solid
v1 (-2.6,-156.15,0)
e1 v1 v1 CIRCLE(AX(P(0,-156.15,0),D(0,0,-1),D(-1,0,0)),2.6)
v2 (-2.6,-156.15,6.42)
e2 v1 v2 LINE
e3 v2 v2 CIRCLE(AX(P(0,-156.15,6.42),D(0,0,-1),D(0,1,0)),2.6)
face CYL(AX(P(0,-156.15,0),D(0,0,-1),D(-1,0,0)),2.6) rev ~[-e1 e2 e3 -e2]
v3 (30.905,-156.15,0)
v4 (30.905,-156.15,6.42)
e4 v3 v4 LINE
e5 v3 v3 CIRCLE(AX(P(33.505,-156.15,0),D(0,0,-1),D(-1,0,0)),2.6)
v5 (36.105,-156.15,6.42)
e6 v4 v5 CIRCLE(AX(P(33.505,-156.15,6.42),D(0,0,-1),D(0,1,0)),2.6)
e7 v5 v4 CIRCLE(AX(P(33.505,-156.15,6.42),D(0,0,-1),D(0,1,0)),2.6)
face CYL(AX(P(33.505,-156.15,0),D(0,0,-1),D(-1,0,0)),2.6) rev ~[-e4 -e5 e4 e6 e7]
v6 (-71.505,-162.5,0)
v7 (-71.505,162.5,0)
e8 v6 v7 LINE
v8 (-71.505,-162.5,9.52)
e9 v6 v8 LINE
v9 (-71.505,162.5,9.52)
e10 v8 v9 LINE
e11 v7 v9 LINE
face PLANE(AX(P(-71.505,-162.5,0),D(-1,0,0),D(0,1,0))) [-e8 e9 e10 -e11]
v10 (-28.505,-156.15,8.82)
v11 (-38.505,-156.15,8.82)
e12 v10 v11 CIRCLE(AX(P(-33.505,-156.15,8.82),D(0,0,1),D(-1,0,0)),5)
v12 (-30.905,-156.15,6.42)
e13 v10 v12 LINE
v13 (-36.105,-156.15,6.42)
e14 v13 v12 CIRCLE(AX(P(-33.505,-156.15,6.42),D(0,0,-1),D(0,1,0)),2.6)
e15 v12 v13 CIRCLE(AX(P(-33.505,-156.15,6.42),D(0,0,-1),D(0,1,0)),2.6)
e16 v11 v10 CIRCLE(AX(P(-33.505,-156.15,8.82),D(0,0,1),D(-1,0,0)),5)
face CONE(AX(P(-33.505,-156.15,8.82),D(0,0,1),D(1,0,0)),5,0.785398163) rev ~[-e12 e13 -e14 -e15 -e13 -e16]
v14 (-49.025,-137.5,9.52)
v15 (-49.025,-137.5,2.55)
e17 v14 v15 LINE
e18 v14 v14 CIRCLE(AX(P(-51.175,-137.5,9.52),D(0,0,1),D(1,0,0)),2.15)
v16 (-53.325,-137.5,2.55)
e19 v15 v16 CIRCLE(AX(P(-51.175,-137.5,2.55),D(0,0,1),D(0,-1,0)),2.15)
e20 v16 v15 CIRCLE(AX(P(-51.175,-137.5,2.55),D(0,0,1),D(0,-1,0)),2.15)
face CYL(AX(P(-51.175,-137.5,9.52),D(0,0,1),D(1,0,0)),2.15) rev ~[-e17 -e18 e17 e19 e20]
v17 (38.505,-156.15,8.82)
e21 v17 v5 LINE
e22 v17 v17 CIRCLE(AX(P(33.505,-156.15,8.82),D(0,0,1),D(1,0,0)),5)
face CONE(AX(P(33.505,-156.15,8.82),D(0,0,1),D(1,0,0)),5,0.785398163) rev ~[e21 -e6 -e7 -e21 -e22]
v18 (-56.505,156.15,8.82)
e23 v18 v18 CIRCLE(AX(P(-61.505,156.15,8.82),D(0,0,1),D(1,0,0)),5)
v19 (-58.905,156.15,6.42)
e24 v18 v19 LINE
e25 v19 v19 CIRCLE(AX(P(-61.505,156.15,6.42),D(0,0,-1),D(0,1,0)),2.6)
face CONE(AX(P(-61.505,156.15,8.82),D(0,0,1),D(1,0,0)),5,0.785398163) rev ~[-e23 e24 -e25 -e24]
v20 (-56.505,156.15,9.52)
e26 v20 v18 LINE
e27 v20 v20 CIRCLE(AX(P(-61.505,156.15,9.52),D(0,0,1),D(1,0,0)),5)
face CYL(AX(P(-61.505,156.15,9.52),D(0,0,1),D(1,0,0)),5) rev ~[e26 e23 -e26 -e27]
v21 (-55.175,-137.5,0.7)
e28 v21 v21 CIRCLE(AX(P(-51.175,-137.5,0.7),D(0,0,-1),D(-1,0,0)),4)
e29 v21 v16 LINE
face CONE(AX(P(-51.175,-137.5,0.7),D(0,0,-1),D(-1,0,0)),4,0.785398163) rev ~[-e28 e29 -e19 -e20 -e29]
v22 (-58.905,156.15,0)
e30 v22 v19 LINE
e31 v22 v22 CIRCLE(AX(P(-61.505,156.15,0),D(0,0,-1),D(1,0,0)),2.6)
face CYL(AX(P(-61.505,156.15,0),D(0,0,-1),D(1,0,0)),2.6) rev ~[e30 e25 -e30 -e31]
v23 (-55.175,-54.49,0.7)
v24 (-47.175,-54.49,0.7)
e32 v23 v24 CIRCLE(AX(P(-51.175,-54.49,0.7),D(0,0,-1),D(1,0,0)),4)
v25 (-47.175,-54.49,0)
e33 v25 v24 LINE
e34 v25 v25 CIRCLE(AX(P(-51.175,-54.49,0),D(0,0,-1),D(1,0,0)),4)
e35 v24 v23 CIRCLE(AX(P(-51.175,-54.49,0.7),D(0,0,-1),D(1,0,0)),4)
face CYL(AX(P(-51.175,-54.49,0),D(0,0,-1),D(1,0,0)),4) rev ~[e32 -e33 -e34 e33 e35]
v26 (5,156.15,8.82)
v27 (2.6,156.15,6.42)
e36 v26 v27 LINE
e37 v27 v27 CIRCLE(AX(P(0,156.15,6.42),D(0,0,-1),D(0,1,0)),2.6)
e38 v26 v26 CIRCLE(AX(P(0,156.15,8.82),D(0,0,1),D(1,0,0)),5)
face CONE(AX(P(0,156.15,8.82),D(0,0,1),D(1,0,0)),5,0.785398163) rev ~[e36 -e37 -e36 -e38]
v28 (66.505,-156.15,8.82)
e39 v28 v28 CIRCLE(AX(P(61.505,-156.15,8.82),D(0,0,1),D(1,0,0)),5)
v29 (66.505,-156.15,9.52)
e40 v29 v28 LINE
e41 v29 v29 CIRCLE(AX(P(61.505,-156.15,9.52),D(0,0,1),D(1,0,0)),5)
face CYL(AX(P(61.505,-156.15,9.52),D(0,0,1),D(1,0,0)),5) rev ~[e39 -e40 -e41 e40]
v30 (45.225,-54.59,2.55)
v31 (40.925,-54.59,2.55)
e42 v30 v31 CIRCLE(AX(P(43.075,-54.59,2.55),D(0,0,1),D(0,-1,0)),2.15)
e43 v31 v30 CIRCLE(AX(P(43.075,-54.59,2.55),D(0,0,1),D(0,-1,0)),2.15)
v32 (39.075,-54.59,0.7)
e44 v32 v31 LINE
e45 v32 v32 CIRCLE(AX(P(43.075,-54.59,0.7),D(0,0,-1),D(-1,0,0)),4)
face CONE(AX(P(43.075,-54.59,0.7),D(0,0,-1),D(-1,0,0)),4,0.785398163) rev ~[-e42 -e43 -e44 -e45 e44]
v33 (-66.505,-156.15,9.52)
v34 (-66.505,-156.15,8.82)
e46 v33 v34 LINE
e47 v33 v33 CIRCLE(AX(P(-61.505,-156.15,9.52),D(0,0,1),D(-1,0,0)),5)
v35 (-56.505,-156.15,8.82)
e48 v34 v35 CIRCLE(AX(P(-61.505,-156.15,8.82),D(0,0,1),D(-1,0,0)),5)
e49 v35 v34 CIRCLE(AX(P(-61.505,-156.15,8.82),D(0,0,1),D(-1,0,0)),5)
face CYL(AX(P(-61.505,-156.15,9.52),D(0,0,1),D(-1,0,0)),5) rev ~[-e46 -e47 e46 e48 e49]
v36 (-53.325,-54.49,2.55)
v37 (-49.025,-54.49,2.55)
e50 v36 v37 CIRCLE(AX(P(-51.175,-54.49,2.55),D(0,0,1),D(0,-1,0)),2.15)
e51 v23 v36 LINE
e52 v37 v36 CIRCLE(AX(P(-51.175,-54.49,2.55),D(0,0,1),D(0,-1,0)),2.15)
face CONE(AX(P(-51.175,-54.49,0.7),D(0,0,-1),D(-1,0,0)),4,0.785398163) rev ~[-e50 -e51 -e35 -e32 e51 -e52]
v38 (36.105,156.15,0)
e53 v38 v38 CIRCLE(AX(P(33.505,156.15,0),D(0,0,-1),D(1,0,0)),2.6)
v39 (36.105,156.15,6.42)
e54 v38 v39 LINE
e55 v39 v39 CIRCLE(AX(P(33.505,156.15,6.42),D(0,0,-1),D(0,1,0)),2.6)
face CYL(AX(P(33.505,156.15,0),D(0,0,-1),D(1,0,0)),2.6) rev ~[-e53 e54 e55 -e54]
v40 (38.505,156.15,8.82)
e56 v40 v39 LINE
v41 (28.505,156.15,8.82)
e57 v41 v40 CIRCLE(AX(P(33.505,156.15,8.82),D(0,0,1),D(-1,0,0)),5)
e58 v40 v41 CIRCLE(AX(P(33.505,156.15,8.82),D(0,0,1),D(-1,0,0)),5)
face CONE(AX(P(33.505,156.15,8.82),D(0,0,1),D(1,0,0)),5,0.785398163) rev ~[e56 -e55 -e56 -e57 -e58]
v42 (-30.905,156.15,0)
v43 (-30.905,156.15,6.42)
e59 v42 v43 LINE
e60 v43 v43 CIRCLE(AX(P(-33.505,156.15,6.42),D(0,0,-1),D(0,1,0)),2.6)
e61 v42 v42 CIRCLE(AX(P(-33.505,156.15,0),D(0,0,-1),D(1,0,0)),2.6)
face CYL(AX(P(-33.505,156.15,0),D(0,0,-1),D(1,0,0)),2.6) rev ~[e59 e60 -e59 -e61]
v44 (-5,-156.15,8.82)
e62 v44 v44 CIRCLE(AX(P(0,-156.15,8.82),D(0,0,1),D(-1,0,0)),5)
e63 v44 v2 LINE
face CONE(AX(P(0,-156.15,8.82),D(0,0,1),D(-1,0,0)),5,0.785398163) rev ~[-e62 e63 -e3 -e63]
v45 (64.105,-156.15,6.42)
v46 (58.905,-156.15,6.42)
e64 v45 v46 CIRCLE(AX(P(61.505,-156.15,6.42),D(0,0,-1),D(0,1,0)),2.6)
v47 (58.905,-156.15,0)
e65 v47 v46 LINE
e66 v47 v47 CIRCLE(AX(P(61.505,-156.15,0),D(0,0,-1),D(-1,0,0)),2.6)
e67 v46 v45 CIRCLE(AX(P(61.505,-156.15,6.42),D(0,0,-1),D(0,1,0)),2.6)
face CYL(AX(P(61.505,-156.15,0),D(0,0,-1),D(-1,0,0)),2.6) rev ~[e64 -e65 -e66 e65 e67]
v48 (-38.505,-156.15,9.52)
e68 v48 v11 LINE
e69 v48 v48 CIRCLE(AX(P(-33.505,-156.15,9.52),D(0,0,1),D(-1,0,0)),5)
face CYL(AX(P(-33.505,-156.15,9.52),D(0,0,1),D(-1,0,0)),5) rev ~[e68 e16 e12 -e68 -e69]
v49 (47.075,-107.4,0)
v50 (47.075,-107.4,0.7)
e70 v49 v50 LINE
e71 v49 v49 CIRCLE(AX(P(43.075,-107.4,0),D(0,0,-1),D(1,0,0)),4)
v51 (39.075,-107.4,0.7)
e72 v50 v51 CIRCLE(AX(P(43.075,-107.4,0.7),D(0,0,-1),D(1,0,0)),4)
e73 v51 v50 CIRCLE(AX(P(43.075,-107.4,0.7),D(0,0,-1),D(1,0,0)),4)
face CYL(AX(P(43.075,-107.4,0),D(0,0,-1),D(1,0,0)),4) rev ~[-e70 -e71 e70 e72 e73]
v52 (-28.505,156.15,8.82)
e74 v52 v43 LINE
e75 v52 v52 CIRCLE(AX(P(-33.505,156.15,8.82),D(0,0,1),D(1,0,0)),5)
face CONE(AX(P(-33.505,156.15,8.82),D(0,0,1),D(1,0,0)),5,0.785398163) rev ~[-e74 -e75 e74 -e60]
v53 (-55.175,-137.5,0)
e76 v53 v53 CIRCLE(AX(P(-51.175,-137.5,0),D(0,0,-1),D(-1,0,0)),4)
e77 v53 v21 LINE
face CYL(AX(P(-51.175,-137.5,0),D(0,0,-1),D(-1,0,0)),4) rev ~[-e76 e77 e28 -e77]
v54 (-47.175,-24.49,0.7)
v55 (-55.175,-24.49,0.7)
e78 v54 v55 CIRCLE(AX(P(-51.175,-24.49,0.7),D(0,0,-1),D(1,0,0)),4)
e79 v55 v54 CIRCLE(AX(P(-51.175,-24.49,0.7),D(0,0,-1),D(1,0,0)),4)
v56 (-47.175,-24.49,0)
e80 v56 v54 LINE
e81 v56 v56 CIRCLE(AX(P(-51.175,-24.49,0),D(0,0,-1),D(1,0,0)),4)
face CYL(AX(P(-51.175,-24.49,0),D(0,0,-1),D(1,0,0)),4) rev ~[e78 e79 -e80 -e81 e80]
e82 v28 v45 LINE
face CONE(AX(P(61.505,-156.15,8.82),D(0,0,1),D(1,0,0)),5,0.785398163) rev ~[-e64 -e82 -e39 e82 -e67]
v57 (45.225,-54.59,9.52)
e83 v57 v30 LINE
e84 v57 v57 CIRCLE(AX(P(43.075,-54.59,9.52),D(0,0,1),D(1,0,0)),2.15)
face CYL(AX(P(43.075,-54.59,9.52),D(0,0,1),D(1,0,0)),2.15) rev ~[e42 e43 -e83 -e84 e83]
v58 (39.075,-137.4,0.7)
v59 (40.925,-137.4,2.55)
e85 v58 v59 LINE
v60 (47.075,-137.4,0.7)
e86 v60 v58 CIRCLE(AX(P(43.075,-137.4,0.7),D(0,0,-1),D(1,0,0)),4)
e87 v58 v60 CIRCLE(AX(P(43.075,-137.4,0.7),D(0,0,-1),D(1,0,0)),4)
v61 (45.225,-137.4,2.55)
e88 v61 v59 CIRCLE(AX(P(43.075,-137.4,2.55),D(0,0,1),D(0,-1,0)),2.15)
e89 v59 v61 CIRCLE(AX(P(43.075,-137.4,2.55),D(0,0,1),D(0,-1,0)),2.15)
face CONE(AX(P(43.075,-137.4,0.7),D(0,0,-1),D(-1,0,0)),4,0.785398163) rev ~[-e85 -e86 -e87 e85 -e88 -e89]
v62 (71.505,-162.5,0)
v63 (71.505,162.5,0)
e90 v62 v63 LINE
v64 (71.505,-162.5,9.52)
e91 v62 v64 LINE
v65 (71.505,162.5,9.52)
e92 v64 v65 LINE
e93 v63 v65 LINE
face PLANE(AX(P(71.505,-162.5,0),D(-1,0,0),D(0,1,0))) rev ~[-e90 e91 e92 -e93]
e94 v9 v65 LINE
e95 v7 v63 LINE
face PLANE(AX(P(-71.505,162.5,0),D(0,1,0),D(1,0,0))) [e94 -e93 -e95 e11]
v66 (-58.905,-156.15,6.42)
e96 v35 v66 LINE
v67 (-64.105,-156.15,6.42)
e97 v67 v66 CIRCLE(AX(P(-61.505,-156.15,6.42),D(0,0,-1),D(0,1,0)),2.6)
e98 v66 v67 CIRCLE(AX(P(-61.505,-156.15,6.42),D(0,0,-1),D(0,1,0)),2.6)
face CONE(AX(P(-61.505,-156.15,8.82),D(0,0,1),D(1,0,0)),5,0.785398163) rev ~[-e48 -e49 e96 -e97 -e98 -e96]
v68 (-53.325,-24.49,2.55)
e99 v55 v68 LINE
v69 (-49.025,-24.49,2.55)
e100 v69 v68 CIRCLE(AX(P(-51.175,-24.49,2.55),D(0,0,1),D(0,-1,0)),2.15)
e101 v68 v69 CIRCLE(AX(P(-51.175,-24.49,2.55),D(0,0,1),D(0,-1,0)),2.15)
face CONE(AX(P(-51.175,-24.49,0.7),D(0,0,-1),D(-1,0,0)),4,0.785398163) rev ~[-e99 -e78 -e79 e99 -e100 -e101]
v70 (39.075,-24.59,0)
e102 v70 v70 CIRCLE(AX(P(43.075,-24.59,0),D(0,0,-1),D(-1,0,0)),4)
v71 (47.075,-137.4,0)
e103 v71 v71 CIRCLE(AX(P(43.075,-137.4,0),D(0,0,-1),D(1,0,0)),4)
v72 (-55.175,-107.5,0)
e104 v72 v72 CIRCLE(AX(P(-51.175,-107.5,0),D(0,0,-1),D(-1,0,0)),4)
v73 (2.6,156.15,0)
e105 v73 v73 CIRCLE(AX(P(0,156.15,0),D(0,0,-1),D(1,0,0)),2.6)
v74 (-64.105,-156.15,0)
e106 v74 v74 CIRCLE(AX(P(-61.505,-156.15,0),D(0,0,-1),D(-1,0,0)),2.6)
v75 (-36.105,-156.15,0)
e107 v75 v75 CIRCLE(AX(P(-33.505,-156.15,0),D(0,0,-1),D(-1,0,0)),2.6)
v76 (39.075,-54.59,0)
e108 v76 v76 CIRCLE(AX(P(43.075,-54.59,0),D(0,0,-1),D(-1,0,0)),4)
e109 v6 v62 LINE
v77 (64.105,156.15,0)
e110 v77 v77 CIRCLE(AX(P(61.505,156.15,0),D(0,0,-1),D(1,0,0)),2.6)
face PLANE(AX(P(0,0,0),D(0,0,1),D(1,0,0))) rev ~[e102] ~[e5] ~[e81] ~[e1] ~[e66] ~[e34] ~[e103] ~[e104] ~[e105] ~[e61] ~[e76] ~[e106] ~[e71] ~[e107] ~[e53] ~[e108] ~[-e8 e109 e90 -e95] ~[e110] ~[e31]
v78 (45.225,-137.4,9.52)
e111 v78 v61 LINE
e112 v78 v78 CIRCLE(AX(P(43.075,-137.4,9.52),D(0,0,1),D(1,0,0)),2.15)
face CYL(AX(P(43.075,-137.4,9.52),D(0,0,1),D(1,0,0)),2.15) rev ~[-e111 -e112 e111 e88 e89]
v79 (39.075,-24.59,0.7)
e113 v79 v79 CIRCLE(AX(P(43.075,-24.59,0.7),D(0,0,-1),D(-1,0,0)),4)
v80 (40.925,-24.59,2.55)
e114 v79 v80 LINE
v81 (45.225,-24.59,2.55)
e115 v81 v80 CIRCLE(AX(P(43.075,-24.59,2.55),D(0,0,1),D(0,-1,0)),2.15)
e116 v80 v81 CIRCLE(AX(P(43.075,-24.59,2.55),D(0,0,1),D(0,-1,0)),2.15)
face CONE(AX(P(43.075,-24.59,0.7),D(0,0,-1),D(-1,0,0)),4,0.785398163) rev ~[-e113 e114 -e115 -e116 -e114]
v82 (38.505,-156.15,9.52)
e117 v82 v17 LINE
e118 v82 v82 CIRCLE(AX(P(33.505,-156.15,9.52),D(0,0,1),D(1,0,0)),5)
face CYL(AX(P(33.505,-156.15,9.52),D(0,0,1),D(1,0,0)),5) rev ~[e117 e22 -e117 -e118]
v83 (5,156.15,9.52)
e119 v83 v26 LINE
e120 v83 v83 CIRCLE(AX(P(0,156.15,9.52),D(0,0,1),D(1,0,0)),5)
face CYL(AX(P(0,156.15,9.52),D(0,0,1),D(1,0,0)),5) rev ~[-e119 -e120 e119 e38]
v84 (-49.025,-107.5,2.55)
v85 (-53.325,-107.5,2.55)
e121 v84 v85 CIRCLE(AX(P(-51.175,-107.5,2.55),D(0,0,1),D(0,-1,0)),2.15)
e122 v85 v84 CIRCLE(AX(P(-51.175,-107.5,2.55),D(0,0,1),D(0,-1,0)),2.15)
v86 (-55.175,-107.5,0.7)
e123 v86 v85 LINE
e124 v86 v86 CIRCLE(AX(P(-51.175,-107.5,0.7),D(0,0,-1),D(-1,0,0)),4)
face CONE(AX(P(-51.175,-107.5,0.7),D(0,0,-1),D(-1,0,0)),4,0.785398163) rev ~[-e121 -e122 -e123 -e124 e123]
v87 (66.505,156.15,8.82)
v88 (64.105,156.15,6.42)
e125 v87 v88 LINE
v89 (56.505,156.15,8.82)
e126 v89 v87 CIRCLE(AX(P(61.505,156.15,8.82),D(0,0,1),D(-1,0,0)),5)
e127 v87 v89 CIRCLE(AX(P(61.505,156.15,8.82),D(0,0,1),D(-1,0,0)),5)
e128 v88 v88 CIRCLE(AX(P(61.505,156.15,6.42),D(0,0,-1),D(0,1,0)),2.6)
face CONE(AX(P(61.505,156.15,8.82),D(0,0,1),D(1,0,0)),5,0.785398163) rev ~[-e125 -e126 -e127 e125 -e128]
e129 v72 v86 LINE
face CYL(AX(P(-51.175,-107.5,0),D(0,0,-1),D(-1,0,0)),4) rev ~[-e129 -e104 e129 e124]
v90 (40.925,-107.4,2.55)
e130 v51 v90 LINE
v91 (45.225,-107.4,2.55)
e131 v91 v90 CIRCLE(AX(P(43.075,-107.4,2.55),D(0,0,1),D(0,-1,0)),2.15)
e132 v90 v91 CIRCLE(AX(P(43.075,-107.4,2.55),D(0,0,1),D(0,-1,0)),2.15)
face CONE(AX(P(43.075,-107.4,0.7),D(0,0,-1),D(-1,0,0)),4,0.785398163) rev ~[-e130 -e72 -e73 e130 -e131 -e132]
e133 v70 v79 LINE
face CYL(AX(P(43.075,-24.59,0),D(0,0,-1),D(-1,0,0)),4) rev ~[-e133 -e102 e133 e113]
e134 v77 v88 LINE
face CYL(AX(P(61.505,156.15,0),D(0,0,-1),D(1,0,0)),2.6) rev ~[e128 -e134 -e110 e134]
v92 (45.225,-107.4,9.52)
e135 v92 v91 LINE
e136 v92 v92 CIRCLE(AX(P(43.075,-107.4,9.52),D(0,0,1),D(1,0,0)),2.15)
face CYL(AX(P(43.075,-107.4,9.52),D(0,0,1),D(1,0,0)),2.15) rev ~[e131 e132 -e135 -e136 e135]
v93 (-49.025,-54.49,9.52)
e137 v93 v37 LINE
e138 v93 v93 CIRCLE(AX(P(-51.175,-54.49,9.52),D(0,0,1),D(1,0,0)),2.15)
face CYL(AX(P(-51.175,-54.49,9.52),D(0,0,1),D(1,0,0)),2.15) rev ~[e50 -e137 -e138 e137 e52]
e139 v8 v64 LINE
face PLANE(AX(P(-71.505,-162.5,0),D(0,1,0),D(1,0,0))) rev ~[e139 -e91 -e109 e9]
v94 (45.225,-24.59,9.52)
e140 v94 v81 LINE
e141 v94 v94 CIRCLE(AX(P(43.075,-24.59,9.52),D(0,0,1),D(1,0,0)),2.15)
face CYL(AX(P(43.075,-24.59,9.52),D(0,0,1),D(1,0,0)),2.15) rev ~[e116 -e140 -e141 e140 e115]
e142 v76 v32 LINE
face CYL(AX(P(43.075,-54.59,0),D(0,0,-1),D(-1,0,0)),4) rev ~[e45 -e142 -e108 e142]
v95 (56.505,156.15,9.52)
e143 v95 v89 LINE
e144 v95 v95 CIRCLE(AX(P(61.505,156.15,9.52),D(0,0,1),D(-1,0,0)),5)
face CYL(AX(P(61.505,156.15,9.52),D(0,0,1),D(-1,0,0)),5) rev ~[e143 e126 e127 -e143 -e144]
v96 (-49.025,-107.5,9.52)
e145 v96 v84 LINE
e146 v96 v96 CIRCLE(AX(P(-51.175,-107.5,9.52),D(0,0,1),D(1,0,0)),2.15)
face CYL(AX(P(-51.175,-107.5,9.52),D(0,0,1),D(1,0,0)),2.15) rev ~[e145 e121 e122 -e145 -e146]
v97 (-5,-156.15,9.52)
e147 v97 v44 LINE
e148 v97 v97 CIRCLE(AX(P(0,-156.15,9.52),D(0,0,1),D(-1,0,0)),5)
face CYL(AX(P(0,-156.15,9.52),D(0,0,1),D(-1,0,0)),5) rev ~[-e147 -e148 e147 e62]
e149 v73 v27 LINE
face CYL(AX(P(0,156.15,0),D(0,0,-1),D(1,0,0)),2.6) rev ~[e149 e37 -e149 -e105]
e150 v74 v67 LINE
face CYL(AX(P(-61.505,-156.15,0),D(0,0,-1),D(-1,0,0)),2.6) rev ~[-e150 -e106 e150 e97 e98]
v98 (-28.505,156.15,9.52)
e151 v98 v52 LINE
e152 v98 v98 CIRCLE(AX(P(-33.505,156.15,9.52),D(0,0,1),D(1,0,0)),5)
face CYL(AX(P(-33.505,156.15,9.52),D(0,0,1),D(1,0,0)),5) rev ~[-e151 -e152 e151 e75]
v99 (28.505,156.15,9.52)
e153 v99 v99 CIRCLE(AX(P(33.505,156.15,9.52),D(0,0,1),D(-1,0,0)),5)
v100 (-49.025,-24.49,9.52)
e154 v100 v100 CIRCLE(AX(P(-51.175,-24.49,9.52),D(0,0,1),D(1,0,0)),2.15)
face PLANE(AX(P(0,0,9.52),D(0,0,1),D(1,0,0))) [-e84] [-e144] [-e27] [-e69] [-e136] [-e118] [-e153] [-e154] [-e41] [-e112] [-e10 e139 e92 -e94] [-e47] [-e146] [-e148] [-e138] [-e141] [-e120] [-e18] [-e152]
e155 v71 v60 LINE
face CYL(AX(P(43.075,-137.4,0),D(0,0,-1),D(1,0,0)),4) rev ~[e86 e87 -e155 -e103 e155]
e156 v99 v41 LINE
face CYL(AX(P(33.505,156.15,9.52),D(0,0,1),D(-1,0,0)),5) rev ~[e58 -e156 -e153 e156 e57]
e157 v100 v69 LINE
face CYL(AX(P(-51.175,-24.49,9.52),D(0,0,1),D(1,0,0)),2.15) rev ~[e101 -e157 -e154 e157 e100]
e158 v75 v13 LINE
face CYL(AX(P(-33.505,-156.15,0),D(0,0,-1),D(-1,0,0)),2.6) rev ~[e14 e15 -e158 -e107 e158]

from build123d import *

# Parameters (mm, degrees)
ESBO_O1_W                        = 143.01
ESBO_O1_H                        = 325
RESSALTO_EXTRUS_O1_DEPTH         = 9.52
ESBO_O3_R                        = 2.15
CORTE_EXTRUS_O2_DEPTH            = 10
ESBO_O4_R                        = 2.6
CORTE_EXTRUS_O3_DEPTH            = 9.52
ESBO_O5_R                        = 4
CORTE_EXTRUS_O4_DEPTH            = 0.7
ESBO_O8_R                        = 5
CORTE_EXTRUS_O6_DEPTH            = 0.7
CROQUIS2_R                       = 5
CORTAR_EXTRUIR2_DEPTH            = 2.5
CORTAR_EXTRUIR2_DRAFT            = -45
CORTAR_EXTRUIR2_PROFILE_2_DEPTH  = 2.5
CORTAR_EXTRUIR2_PROFILE_2_DRAFT  = -45
CORTAR_EXTRUIR2_PROFILE_3_DEPTH  = 2.5
CORTAR_EXTRUIR2_PROFILE_3_DRAFT  = -45
CORTAR_EXTRUIR2_PROFILE_4_DEPTH  = 2.5
CORTAR_EXTRUIR2_PROFILE_4_DRAFT  = -45
CORTAR_EXTRUIR2_PROFILE_5_DEPTH  = 2.5
CORTAR_EXTRUIR2_PROFILE_5_DRAFT  = -45
CORTAR_EXTRUIR2_PROFILE_6_DEPTH  = 2.5
CORTAR_EXTRUIR2_PROFILE_6_DRAFT  = -45
CORTAR_EXTRUIR2_PROFILE_7_DEPTH  = 2.5
CORTAR_EXTRUIR2_PROFILE_7_DRAFT  = -45
CORTAR_EXTRUIR2_PROFILE_8_DEPTH  = 2.5
CORTAR_EXTRUIR2_PROFILE_8_DRAFT  = -45
CORTAR_EXTRUIR2_PROFILE_9_DEPTH  = 2.5
CORTAR_EXTRUIR2_PROFILE_9_DRAFT  = -45
CORTAR_EXTRUIR2_PROFILE_10_DEPTH = 2.5
CORTAR_EXTRUIR2_PROFILE_10_DRAFT = -45
CROQUIS3_R                       = 4
CORTAR_EXTRUIR3_DEPTH            = 2
CORTAR_EXTRUIR3_DRAFT            = -45
CORTAR_EXTRUIR3_PROFILE_2_DEPTH  = 2
CORTAR_EXTRUIR3_PROFILE_2_DRAFT  = -45
CORTAR_EXTRUIR3_PROFILE_3_DEPTH  = 2
CORTAR_EXTRUIR3_PROFILE_3_DRAFT  = -45
CORTAR_EXTRUIR3_PROFILE_4_DEPTH  = 2
CORTAR_EXTRUIR3_PROFILE_4_DRAFT  = -45
CORTAR_EXTRUIR3_PROFILE_5_DEPTH  = 2
CORTAR_EXTRUIR3_PROFILE_5_DRAFT  = -45
CORTAR_EXTRUIR3_PROFILE_6_DEPTH  = 2
CORTAR_EXTRUIR3_PROFILE_6_DRAFT  = -45
CORTAR_EXTRUIR3_PROFILE_7_DEPTH  = 2
CORTAR_EXTRUIR3_PROFILE_7_DRAFT  = -45
CORTAR_EXTRUIR3_PROFILE_8_DEPTH  = 2
CORTAR_EXTRUIR3_PROFILE_8_DRAFT  = -45


with BuildPart() as part:
    # Esboço1 → Ressalto-extrusão1 (new body)
    with BuildSketch(Plane.XY):
        Rectangle(ESBO_O1_W, ESBO_O1_H)
    extrude(amount=RESSALTO_EXTRUS_O1_DEPTH)

    # Esboço3 → Corte-extrusão2 (cut)
    with BuildSketch(Plane.XY.offset(9.52)):
        with Locations((-51.175, -24.49)):
            Circle(ESBO_O3_R)
        with Locations((-51.175, -54.49)):
            Circle(ESBO_O3_R)
        with Locations((-51.175, -107.5)):
            Circle(ESBO_O3_R)
        with Locations((-51.175, -137.5)):
            Circle(ESBO_O3_R)
        with Locations((43.075, -137.4)):
            Circle(ESBO_O3_R)
        with Locations((43.075, -107.4)):
            Circle(ESBO_O3_R)
        with Locations((43.075, -54.59)):
            Circle(ESBO_O3_R)
        with Locations((43.075, -24.59)):
            Circle(ESBO_O3_R)
    extrude(amount=-CORTE_EXTRUS_O2_DEPTH, mode=Mode.SUBTRACT)

    # Esboço4 → Corte-extrusão3 (cut)
    with BuildSketch(Plane(origin=(0, 0, 0), x_dir=(-1, 0, 0), z_dir=(0, 0, -1))):
        with Locations(Location((61.505, 156.15, 0), (0, 0, 180))):
            Circle(ESBO_O4_R)
        with Locations(Location((33.505, 156.15, 0), (0, 0, 180))):
            Circle(ESBO_O4_R)
        with Locations(Location((0, 156.15, 0), (0, 0, 180))):
            Circle(ESBO_O4_R)
        with Locations((61.505, -156.15)):
            Circle(ESBO_O4_R)
        with Locations((0, -156.15)):
            Circle(ESBO_O4_R)
        with Locations((-61.505, -156.15)):
            Circle(ESBO_O4_R)
        with Locations(Location((-33.505, 156.15, 0), (0, 0, 180))):
            Circle(ESBO_O4_R)
        with Locations(Location((-61.505, 156.15, 0), (0, 0, 180))):
            Circle(ESBO_O4_R)
        with Locations((33.505, -156.15)):
            Circle(ESBO_O4_R)
        with Locations((-33.505, -156.15)):
            Circle(ESBO_O4_R)
    extrude(amount=-CORTE_EXTRUS_O3_DEPTH, mode=Mode.SUBTRACT)

    # Esboço5 → Corte-extrusão4 (cut)
    with BuildSketch(Plane(origin=(0, 0, 0), x_dir=(-1, 0, 0), z_dir=(0, 0, -1))):
        with Locations(Location((51.175, -24.49, 0), (0, 0, 180))):
            Circle(ESBO_O5_R)
        with Locations(Location((51.175, -54.49, 0), (0, 0, 180))):
            Circle(ESBO_O5_R)
        with Locations((-43.075, -54.59)):
            Circle(ESBO_O5_R)
        with Locations((-43.075, -24.59)):
            Circle(ESBO_O5_R)
        with Locations(Location((-43.075, -137.4, 0), (0, 0, 180))):
            Circle(ESBO_O5_R)
        with Locations(Location((-43.075, -107.4, 0), (0, 0, 180))):
            Circle(ESBO_O5_R)
        with Locations((51.175, -107.5)):
            Circle(ESBO_O5_R)
        with Locations((51.175, -137.5)):
            Circle(ESBO_O5_R)
    extrude(amount=-CORTE_EXTRUS_O4_DEPTH, mode=Mode.SUBTRACT)

    # Esboço8 → Corte-extrusão6 (cut)
    with BuildSketch(Plane.XY.offset(9.52)):
        with Locations((-61.505, 156.15)):
            Circle(ESBO_O8_R)
        with Locations((-33.505, 156.15)):
            Circle(ESBO_O8_R)
        with Locations((0, 156.15)):
            Circle(ESBO_O8_R)
        with Locations(Location((-61.505, -156.15, 0), (0, 0, 180))):
            Circle(ESBO_O8_R)
        with Locations(Location((-33.505, -156.15, 0), (0, 0, 180))):
            Circle(ESBO_O8_R)
        with Locations(Location((33.505, 156.15, 0), (0, 0, 180))):
            Circle(ESBO_O8_R)
        with Locations(Location((61.505, 156.15, 0), (0, 0, 180))):
            Circle(ESBO_O8_R)
        with Locations(Location((0, -156.15, 0), (0, 0, 180))):
            Circle(ESBO_O8_R)
        with Locations((33.505, -156.15)):
            Circle(ESBO_O8_R)
        with Locations((61.505, -156.15)):
            Circle(ESBO_O8_R)
    extrude(amount=-CORTE_EXTRUS_O6_DEPTH, mode=Mode.SUBTRACT)


with BuildPart() as cortar_extruir2_tool:
    # Croquis2 → Cortar-Extruir2 (with draft: the straight prism first)
    with BuildSketch(Plane.XY.offset(8.82)):
        with Locations((61.505, 156.15)):
            Circle(CROQUIS2_R)
    extrude(amount=-CORTAR_EXTRUIR2_DEPTH)
    # Cortar-Extruir2: the draft: its side faces are tilted about the plane it starts from
    cortar_extruir2_sides = [cortar_extruir2_tool.faces().sort_by_distance(p)[0] for p in [
        (56.505, 156.15, 7.57),
    ]]
    draft(cortar_extruir2_sides, Plane.XY.offset(8.82), CORTAR_EXTRUIR2_DRAFT)


with BuildPart() as part_1:
    add(part.part)

    # Cortar-Extruir2: cut by cortar_extruir2_tool
    add(cortar_extruir2_tool.part, mode=Mode.SUBTRACT)


with BuildPart() as cortar_extruir2_profile_2_tool:
    # Croquis2 → Cortar-Extruir2 profile 2 (with draft: the straight prism first)
    with BuildSketch(Plane.XY.offset(8.82)):
        with Locations((33.505, 156.15)):
            Circle(CROQUIS2_R)
    extrude(amount=-CORTAR_EXTRUIR2_PROFILE_2_DEPTH)
    # Cortar-Extruir2 profile 2: the draft: its side faces are tilted about the plane it starts from
    cortar_extruir2_profile_2_sides = [cortar_extruir2_profile_2_tool.faces().sort_by_distance(p)[0] for p in [
        (28.505, 156.15, 7.57),
    ]]
    draft(cortar_extruir2_profile_2_sides, Plane.XY.offset(8.82), CORTAR_EXTRUIR2_PROFILE_2_DRAFT)


with BuildPart() as part_2:
    add(part_1.part)

    # Cortar-Extruir2 profile 2: cut by cortar_extruir2_profile_2_tool
    add(cortar_extruir2_profile_2_tool.part, mode=Mode.SUBTRACT)


with BuildPart() as cortar_extruir2_profile_3_tool:
    # Croquis2 → Cortar-Extruir2 profile 3 (with draft: the straight prism first)
    with BuildSketch(Plane.XY.offset(8.82)):
        with Locations((0, 156.15)):
            Circle(CROQUIS2_R)
    extrude(amount=-CORTAR_EXTRUIR2_PROFILE_3_DEPTH)
    # Cortar-Extruir2 profile 3: the draft: its side faces are tilted about the plane it starts from
    cortar_extruir2_profile_3_sides = [cortar_extruir2_profile_3_tool.faces().sort_by_distance(p)[0] for p in [
        (-5, 156.15, 7.57),
    ]]
    draft(cortar_extruir2_profile_3_sides, Plane.XY.offset(8.82), CORTAR_EXTRUIR2_PROFILE_3_DRAFT)


with BuildPart() as part_3:
    add(part_2.part)

    # Cortar-Extruir2 profile 3: cut by cortar_extruir2_profile_3_tool
    add(cortar_extruir2_profile_3_tool.part, mode=Mode.SUBTRACT)


with BuildPart() as cortar_extruir2_profile_4_tool:
    # Croquis2 → Cortar-Extruir2 profile 4 (with draft: the straight prism first)
    with BuildSketch(Plane.XY.offset(8.82)):
        with Locations((-61.505, 156.15)):
            Circle(CROQUIS2_R)
    extrude(amount=-CORTAR_EXTRUIR2_PROFILE_4_DEPTH)
    # Cortar-Extruir2 profile 4: the draft: its side faces are tilted about the plane it starts from
    cortar_extruir2_profile_4_sides = [cortar_extruir2_profile_4_tool.faces().sort_by_distance(p)[0] for p in [
        (-66.505, 156.15, 7.57),
    ]]
    draft(cortar_extruir2_profile_4_sides, Plane.XY.offset(8.82), CORTAR_EXTRUIR2_PROFILE_4_DRAFT)


with BuildPart() as part_4:
    add(part_3.part)

    # Cortar-Extruir2 profile 4: cut by cortar_extruir2_profile_4_tool
    add(cortar_extruir2_profile_4_tool.part, mode=Mode.SUBTRACT)


with BuildPart() as cortar_extruir2_profile_5_tool:
    # Croquis2 → Cortar-Extruir2 profile 5 (with draft: the straight prism first)
    with BuildSketch(Plane.XY.offset(8.82)):
        with Locations((-33.505, 156.15)):
            Circle(CROQUIS2_R)
    extrude(amount=-CORTAR_EXTRUIR2_PROFILE_5_DEPTH)
    # Cortar-Extruir2 profile 5: the draft: its side faces are tilted about the plane it starts from
    cortar_extruir2_profile_5_sides = [cortar_extruir2_profile_5_tool.faces().sort_by_distance(p)[0] for p in [
        (-38.505, 156.15, 7.57),
    ]]
    draft(cortar_extruir2_profile_5_sides, Plane.XY.offset(8.82), CORTAR_EXTRUIR2_PROFILE_5_DRAFT)


with BuildPart() as part_5:
    add(part_4.part)

    # Cortar-Extruir2 profile 5: cut by cortar_extruir2_profile_5_tool
    add(cortar_extruir2_profile_5_tool.part, mode=Mode.SUBTRACT)


with BuildPart() as cortar_extruir2_profile_6_tool:
    # Croquis2 → Cortar-Extruir2 profile 6 (with draft: the straight prism first)
    with BuildSketch(Plane.XY.offset(8.82)):
        with Locations((61.505, -156.15)):
            Circle(CROQUIS2_R)
    extrude(amount=-CORTAR_EXTRUIR2_PROFILE_6_DEPTH)
    # Cortar-Extruir2 profile 6: the draft: its side faces are tilted about the plane it starts from
    cortar_extruir2_profile_6_sides = [cortar_extruir2_profile_6_tool.faces().sort_by_distance(p)[0] for p in [
        (56.505, -156.15, 7.57),
    ]]
    draft(cortar_extruir2_profile_6_sides, Plane.XY.offset(8.82), CORTAR_EXTRUIR2_PROFILE_6_DRAFT)


with BuildPart() as part_6:
    add(part_5.part)

    # Cortar-Extruir2 profile 6: cut by cortar_extruir2_profile_6_tool
    add(cortar_extruir2_profile_6_tool.part, mode=Mode.SUBTRACT)


with BuildPart() as cortar_extruir2_profile_7_tool:
    # Croquis2 → Cortar-Extruir2 profile 7 (with draft: the straight prism first)
    with BuildSketch(Plane.XY.offset(8.82)):
        with Locations((33.505, -156.15)):
            Circle(CROQUIS2_R)
    extrude(amount=-CORTAR_EXTRUIR2_PROFILE_7_DEPTH)
    # Cortar-Extruir2 profile 7: the draft: its side faces are tilted about the plane it starts from
    cortar_extruir2_profile_7_sides = [cortar_extruir2_profile_7_tool.faces().sort_by_distance(p)[0] for p in [
        (28.505, -156.15, 7.57),
    ]]
    draft(cortar_extruir2_profile_7_sides, Plane.XY.offset(8.82), CORTAR_EXTRUIR2_PROFILE_7_DRAFT)


with BuildPart() as part_7:
    add(part_6.part)

    # Cortar-Extruir2 profile 7: cut by cortar_extruir2_profile_7_tool
    add(cortar_extruir2_profile_7_tool.part, mode=Mode.SUBTRACT)


with BuildPart() as cortar_extruir2_profile_8_tool:
    # Croquis2 → Cortar-Extruir2 profile 8 (with draft: the straight prism first)
    with BuildSketch(Plane.XY.offset(8.82)):
        with Locations(Location((0, -156.15, 0), (0, 0, 180))):
            Circle(CROQUIS2_R)
    extrude(amount=-CORTAR_EXTRUIR2_PROFILE_8_DEPTH)
    # Cortar-Extruir2 profile 8: the draft: its side faces are tilted about the plane it starts from
    cortar_extruir2_profile_8_sides = [cortar_extruir2_profile_8_tool.faces().sort_by_distance(p)[0] for p in [
        (5, -156.15, 7.57),
    ]]
    draft(cortar_extruir2_profile_8_sides, Plane.XY.offset(8.82), CORTAR_EXTRUIR2_PROFILE_8_DRAFT)


with BuildPart() as part_8:
    add(part_7.part)

    # Cortar-Extruir2 profile 8: cut by cortar_extruir2_profile_8_tool
    add(cortar_extruir2_profile_8_tool.part, mode=Mode.SUBTRACT)


with BuildPart() as cortar_extruir2_profile_9_tool:
    # Croquis2 → Cortar-Extruir2 profile 9 (with draft: the straight prism first)
    with BuildSketch(Plane.XY.offset(8.82)):
        with Locations((-33.505, -156.15)):
            Circle(CROQUIS2_R)
    extrude(amount=-CORTAR_EXTRUIR2_PROFILE_9_DEPTH)
    # Cortar-Extruir2 profile 9: the draft: its side faces are tilted about the plane it starts from
    cortar_extruir2_profile_9_sides = [cortar_extruir2_profile_9_tool.faces().sort_by_distance(p)[0] for p in [
        (-38.505, -156.15, 7.57),
    ]]
    draft(cortar_extruir2_profile_9_sides, Plane.XY.offset(8.82), CORTAR_EXTRUIR2_PROFILE_9_DRAFT)


with BuildPart() as part_9:
    add(part_8.part)

    # Cortar-Extruir2 profile 9: cut by cortar_extruir2_profile_9_tool
    add(cortar_extruir2_profile_9_tool.part, mode=Mode.SUBTRACT)


with BuildPart() as cortar_extruir2_profile_10_tool:
    # Croquis2 → Cortar-Extruir2 profile 10 (with draft: the straight prism first)
    with BuildSketch(Plane.XY.offset(8.82)):
        with Locations((-61.505, -156.15)):
            Circle(CROQUIS2_R)
    extrude(amount=-CORTAR_EXTRUIR2_PROFILE_10_DEPTH)
    # Cortar-Extruir2 profile 10: the draft: its side faces are tilted about the plane it starts from
    cortar_extruir2_profile_10_sides = [cortar_extruir2_profile_10_tool.faces().sort_by_distance(p)[0] for p in [
        (-66.505, -156.15, 7.57),
    ]]
    draft(cortar_extruir2_profile_10_sides, Plane.XY.offset(8.82), CORTAR_EXTRUIR2_PROFILE_10_DRAFT)


with BuildPart() as part_10:
    add(part_9.part)

    # Cortar-Extruir2 profile 10: cut by cortar_extruir2_profile_10_tool
    add(cortar_extruir2_profile_10_tool.part, mode=Mode.SUBTRACT)


with BuildPart() as cortar_extruir3_tool:
    # Croquis3 → Cortar-Extruir3 (with draft: the straight prism first)
    with BuildSketch(Plane(origin=(0, 0, 0.7), x_dir=(-1, 0, 0), z_dir=(0, 0, -1))):
        with Locations((51.175, -137.5)):
            Circle(CROQUIS3_R)
    extrude(amount=-CORTAR_EXTRUIR3_DEPTH)
    # Cortar-Extruir3: the draft: its side faces are tilted about the plane it starts from
    cortar_extruir3_sides = [cortar_extruir3_tool.faces().sort_by_distance(p)[0] for p in [
        (-47.175, -137.5, 1.7),
    ]]
    draft(cortar_extruir3_sides, Plane(origin=(0, 0, 0.7), x_dir=(-1, 0, 0), z_dir=(0, 0, -1)), CORTAR_EXTRUIR3_DRAFT)


with BuildPart() as part_11:
    add(part_10.part)

    # Cortar-Extruir3: cut by cortar_extruir3_tool
    add(cortar_extruir3_tool.part, mode=Mode.SUBTRACT)


with BuildPart() as cortar_extruir3_profile_2_tool:
    # Croquis3 → Cortar-Extruir3 profile 2 (with draft: the straight prism first)
    with BuildSketch(Plane(origin=(0, 0, 0.7), x_dir=(-1, 0, 0), z_dir=(0, 0, -1))):
        with Locations((51.175, -107.5)):
            Circle(CROQUIS3_R)
    extrude(amount=-CORTAR_EXTRUIR3_PROFILE_2_DEPTH)
    # Cortar-Extruir3 profile 2: the draft: its side faces are tilted about the plane it starts from
    cortar_extruir3_profile_2_sides = [cortar_extruir3_profile_2_tool.faces().sort_by_distance(p)[0] for p in [
        (-47.175, -107.5, 1.7),
    ]]
    draft(cortar_extruir3_profile_2_sides, Plane(origin=(0, 0, 0.7), x_dir=(-1, 0, 0), z_dir=(0, 0, -1)), CORTAR_EXTRUIR3_PROFILE_2_DRAFT)


with BuildPart() as part_12:
    add(part_11.part)

    # Cortar-Extruir3 profile 2: cut by cortar_extruir3_profile_2_tool
    add(cortar_extruir3_profile_2_tool.part, mode=Mode.SUBTRACT)


with BuildPart() as cortar_extruir3_profile_3_tool:
    # Croquis3 → Cortar-Extruir3 profile 3 (with draft: the straight prism first)
    with BuildSketch(Plane(origin=(0, 0, 0.7), x_dir=(-1, 0, 0), z_dir=(0, 0, -1))):
        with Locations((-43.075, -137.4)):
            Circle(CROQUIS3_R)
    extrude(amount=-CORTAR_EXTRUIR3_PROFILE_3_DEPTH)
    # Cortar-Extruir3 profile 3: the draft: its side faces are tilted about the plane it starts from
    cortar_extruir3_profile_3_sides = [cortar_extruir3_profile_3_tool.faces().sort_by_distance(p)[0] for p in [
        (47.075, -137.4, 1.7),
    ]]
    draft(cortar_extruir3_profile_3_sides, Plane(origin=(0, 0, 0.7), x_dir=(-1, 0, 0), z_dir=(0, 0, -1)), CORTAR_EXTRUIR3_PROFILE_3_DRAFT)


with BuildPart() as part_13:
    add(part_12.part)

    # Cortar-Extruir3 profile 3: cut by cortar_extruir3_profile_3_tool
    add(cortar_extruir3_profile_3_tool.part, mode=Mode.SUBTRACT)


with BuildPart() as cortar_extruir3_profile_4_tool:
    # Croquis3 → Cortar-Extruir3 profile 4 (with draft: the straight prism first)
    with BuildSketch(Plane(origin=(0, 0, 0.7), x_dir=(-1, 0, 0), z_dir=(0, 0, -1))):
        with Locations((-43.075, -107.4)):
            Circle(CROQUIS3_R)
    extrude(amount=-CORTAR_EXTRUIR3_PROFILE_4_DEPTH)
    # Cortar-Extruir3 profile 4: the draft: its side faces are tilted about the plane it starts from
    cortar_extruir3_profile_4_sides = [cortar_extruir3_profile_4_tool.faces().sort_by_distance(p)[0] for p in [
        (47.075, -107.4, 1.7),
    ]]
    draft(cortar_extruir3_profile_4_sides, Plane(origin=(0, 0, 0.7), x_dir=(-1, 0, 0), z_dir=(0, 0, -1)), CORTAR_EXTRUIR3_PROFILE_4_DRAFT)


with BuildPart() as part_14:
    add(part_13.part)

    # Cortar-Extruir3 profile 4: cut by cortar_extruir3_profile_4_tool
    add(cortar_extruir3_profile_4_tool.part, mode=Mode.SUBTRACT)


with BuildPart() as cortar_extruir3_profile_5_tool:
    # Croquis3 → Cortar-Extruir3 profile 5 (with draft: the straight prism first)
    with BuildSketch(Plane(origin=(0, 0, 0.7), x_dir=(-1, 0, 0), z_dir=(0, 0, -1))):
        with Locations((-43.075, -54.59)):
            Circle(CROQUIS3_R)
    extrude(amount=-CORTAR_EXTRUIR3_PROFILE_5_DEPTH)
    # Cortar-Extruir3 profile 5: the draft: its side faces are tilted about the plane it starts from
    cortar_extruir3_profile_5_sides = [cortar_extruir3_profile_5_tool.faces().sort_by_distance(p)[0] for p in [
        (47.075, -54.59, 1.7),
    ]]
    draft(cortar_extruir3_profile_5_sides, Plane(origin=(0, 0, 0.7), x_dir=(-1, 0, 0), z_dir=(0, 0, -1)), CORTAR_EXTRUIR3_PROFILE_5_DRAFT)


with BuildPart() as part_15:
    add(part_14.part)

    # Cortar-Extruir3 profile 5: cut by cortar_extruir3_profile_5_tool
    add(cortar_extruir3_profile_5_tool.part, mode=Mode.SUBTRACT)


with BuildPart() as cortar_extruir3_profile_6_tool:
    # Croquis3 → Cortar-Extruir3 profile 6 (with draft: the straight prism first)
    with BuildSketch(Plane(origin=(0, 0, 0.7), x_dir=(-1, 0, 0), z_dir=(0, 0, -1))):
        with Locations((-43.075, -24.59)):
            Circle(CROQUIS3_R)
    extrude(amount=-CORTAR_EXTRUIR3_PROFILE_6_DEPTH)
    # Cortar-Extruir3 profile 6: the draft: its side faces are tilted about the plane it starts from
    cortar_extruir3_profile_6_sides = [cortar_extruir3_profile_6_tool.faces().sort_by_distance(p)[0] for p in [
        (47.075, -24.59, 1.7),
    ]]
    draft(cortar_extruir3_profile_6_sides, Plane(origin=(0, 0, 0.7), x_dir=(-1, 0, 0), z_dir=(0, 0, -1)), CORTAR_EXTRUIR3_PROFILE_6_DRAFT)


with BuildPart() as part_16:
    add(part_15.part)

    # Cortar-Extruir3 profile 6: cut by cortar_extruir3_profile_6_tool
    add(cortar_extruir3_profile_6_tool.part, mode=Mode.SUBTRACT)


with BuildPart() as cortar_extruir3_profile_7_tool:
    # Croquis3 → Cortar-Extruir3 profile 7 (with draft: the straight prism first)
    with BuildSketch(Plane(origin=(0, 0, 0.7), x_dir=(-1, 0, 0), z_dir=(0, 0, -1))):
        with Locations((51.175, -54.49)):
            Circle(CROQUIS3_R)
    extrude(amount=-CORTAR_EXTRUIR3_PROFILE_7_DEPTH)
    # Cortar-Extruir3 profile 7: the draft: its side faces are tilted about the plane it starts from
    cortar_extruir3_profile_7_sides = [cortar_extruir3_profile_7_tool.faces().sort_by_distance(p)[0] for p in [
        (-47.175, -54.49, 1.7),
    ]]
    draft(cortar_extruir3_profile_7_sides, Plane(origin=(0, 0, 0.7), x_dir=(-1, 0, 0), z_dir=(0, 0, -1)), CORTAR_EXTRUIR3_PROFILE_7_DRAFT)


with BuildPart() as part_17:
    add(part_16.part)

    # Cortar-Extruir3 profile 7: cut by cortar_extruir3_profile_7_tool
    add(cortar_extruir3_profile_7_tool.part, mode=Mode.SUBTRACT)


with BuildPart() as cortar_extruir3_profile_8_tool:
    # Croquis3 → Cortar-Extruir3 profile 8 (with draft: the straight prism first)
    with BuildSketch(Plane(origin=(0, 0, 0.7), x_dir=(-1, 0, 0), z_dir=(0, 0, -1))):
        with Locations((51.175, -24.49)):
            Circle(CROQUIS3_R)
    extrude(amount=-CORTAR_EXTRUIR3_PROFILE_8_DEPTH)
    # Cortar-Extruir3 profile 8: the draft: its side faces are tilted about the plane it starts from
    cortar_extruir3_profile_8_sides = [cortar_extruir3_profile_8_tool.faces().sort_by_distance(p)[0] for p in [
        (-47.175, -24.49, 1.7),
    ]]
    draft(cortar_extruir3_profile_8_sides, Plane(origin=(0, 0, 0.7), x_dir=(-1, 0, 0), z_dir=(0, 0, -1)), CORTAR_EXTRUIR3_PROFILE_8_DRAFT)


with BuildPart() as part_18:
    add(part_17.part)

    # Cortar-Extruir3 profile 8: cut by cortar_extruir3_profile_8_tool
    add(cortar_extruir3_profile_8_tool.part, mode=Mode.SUBTRACT)


solid = part_18.part
